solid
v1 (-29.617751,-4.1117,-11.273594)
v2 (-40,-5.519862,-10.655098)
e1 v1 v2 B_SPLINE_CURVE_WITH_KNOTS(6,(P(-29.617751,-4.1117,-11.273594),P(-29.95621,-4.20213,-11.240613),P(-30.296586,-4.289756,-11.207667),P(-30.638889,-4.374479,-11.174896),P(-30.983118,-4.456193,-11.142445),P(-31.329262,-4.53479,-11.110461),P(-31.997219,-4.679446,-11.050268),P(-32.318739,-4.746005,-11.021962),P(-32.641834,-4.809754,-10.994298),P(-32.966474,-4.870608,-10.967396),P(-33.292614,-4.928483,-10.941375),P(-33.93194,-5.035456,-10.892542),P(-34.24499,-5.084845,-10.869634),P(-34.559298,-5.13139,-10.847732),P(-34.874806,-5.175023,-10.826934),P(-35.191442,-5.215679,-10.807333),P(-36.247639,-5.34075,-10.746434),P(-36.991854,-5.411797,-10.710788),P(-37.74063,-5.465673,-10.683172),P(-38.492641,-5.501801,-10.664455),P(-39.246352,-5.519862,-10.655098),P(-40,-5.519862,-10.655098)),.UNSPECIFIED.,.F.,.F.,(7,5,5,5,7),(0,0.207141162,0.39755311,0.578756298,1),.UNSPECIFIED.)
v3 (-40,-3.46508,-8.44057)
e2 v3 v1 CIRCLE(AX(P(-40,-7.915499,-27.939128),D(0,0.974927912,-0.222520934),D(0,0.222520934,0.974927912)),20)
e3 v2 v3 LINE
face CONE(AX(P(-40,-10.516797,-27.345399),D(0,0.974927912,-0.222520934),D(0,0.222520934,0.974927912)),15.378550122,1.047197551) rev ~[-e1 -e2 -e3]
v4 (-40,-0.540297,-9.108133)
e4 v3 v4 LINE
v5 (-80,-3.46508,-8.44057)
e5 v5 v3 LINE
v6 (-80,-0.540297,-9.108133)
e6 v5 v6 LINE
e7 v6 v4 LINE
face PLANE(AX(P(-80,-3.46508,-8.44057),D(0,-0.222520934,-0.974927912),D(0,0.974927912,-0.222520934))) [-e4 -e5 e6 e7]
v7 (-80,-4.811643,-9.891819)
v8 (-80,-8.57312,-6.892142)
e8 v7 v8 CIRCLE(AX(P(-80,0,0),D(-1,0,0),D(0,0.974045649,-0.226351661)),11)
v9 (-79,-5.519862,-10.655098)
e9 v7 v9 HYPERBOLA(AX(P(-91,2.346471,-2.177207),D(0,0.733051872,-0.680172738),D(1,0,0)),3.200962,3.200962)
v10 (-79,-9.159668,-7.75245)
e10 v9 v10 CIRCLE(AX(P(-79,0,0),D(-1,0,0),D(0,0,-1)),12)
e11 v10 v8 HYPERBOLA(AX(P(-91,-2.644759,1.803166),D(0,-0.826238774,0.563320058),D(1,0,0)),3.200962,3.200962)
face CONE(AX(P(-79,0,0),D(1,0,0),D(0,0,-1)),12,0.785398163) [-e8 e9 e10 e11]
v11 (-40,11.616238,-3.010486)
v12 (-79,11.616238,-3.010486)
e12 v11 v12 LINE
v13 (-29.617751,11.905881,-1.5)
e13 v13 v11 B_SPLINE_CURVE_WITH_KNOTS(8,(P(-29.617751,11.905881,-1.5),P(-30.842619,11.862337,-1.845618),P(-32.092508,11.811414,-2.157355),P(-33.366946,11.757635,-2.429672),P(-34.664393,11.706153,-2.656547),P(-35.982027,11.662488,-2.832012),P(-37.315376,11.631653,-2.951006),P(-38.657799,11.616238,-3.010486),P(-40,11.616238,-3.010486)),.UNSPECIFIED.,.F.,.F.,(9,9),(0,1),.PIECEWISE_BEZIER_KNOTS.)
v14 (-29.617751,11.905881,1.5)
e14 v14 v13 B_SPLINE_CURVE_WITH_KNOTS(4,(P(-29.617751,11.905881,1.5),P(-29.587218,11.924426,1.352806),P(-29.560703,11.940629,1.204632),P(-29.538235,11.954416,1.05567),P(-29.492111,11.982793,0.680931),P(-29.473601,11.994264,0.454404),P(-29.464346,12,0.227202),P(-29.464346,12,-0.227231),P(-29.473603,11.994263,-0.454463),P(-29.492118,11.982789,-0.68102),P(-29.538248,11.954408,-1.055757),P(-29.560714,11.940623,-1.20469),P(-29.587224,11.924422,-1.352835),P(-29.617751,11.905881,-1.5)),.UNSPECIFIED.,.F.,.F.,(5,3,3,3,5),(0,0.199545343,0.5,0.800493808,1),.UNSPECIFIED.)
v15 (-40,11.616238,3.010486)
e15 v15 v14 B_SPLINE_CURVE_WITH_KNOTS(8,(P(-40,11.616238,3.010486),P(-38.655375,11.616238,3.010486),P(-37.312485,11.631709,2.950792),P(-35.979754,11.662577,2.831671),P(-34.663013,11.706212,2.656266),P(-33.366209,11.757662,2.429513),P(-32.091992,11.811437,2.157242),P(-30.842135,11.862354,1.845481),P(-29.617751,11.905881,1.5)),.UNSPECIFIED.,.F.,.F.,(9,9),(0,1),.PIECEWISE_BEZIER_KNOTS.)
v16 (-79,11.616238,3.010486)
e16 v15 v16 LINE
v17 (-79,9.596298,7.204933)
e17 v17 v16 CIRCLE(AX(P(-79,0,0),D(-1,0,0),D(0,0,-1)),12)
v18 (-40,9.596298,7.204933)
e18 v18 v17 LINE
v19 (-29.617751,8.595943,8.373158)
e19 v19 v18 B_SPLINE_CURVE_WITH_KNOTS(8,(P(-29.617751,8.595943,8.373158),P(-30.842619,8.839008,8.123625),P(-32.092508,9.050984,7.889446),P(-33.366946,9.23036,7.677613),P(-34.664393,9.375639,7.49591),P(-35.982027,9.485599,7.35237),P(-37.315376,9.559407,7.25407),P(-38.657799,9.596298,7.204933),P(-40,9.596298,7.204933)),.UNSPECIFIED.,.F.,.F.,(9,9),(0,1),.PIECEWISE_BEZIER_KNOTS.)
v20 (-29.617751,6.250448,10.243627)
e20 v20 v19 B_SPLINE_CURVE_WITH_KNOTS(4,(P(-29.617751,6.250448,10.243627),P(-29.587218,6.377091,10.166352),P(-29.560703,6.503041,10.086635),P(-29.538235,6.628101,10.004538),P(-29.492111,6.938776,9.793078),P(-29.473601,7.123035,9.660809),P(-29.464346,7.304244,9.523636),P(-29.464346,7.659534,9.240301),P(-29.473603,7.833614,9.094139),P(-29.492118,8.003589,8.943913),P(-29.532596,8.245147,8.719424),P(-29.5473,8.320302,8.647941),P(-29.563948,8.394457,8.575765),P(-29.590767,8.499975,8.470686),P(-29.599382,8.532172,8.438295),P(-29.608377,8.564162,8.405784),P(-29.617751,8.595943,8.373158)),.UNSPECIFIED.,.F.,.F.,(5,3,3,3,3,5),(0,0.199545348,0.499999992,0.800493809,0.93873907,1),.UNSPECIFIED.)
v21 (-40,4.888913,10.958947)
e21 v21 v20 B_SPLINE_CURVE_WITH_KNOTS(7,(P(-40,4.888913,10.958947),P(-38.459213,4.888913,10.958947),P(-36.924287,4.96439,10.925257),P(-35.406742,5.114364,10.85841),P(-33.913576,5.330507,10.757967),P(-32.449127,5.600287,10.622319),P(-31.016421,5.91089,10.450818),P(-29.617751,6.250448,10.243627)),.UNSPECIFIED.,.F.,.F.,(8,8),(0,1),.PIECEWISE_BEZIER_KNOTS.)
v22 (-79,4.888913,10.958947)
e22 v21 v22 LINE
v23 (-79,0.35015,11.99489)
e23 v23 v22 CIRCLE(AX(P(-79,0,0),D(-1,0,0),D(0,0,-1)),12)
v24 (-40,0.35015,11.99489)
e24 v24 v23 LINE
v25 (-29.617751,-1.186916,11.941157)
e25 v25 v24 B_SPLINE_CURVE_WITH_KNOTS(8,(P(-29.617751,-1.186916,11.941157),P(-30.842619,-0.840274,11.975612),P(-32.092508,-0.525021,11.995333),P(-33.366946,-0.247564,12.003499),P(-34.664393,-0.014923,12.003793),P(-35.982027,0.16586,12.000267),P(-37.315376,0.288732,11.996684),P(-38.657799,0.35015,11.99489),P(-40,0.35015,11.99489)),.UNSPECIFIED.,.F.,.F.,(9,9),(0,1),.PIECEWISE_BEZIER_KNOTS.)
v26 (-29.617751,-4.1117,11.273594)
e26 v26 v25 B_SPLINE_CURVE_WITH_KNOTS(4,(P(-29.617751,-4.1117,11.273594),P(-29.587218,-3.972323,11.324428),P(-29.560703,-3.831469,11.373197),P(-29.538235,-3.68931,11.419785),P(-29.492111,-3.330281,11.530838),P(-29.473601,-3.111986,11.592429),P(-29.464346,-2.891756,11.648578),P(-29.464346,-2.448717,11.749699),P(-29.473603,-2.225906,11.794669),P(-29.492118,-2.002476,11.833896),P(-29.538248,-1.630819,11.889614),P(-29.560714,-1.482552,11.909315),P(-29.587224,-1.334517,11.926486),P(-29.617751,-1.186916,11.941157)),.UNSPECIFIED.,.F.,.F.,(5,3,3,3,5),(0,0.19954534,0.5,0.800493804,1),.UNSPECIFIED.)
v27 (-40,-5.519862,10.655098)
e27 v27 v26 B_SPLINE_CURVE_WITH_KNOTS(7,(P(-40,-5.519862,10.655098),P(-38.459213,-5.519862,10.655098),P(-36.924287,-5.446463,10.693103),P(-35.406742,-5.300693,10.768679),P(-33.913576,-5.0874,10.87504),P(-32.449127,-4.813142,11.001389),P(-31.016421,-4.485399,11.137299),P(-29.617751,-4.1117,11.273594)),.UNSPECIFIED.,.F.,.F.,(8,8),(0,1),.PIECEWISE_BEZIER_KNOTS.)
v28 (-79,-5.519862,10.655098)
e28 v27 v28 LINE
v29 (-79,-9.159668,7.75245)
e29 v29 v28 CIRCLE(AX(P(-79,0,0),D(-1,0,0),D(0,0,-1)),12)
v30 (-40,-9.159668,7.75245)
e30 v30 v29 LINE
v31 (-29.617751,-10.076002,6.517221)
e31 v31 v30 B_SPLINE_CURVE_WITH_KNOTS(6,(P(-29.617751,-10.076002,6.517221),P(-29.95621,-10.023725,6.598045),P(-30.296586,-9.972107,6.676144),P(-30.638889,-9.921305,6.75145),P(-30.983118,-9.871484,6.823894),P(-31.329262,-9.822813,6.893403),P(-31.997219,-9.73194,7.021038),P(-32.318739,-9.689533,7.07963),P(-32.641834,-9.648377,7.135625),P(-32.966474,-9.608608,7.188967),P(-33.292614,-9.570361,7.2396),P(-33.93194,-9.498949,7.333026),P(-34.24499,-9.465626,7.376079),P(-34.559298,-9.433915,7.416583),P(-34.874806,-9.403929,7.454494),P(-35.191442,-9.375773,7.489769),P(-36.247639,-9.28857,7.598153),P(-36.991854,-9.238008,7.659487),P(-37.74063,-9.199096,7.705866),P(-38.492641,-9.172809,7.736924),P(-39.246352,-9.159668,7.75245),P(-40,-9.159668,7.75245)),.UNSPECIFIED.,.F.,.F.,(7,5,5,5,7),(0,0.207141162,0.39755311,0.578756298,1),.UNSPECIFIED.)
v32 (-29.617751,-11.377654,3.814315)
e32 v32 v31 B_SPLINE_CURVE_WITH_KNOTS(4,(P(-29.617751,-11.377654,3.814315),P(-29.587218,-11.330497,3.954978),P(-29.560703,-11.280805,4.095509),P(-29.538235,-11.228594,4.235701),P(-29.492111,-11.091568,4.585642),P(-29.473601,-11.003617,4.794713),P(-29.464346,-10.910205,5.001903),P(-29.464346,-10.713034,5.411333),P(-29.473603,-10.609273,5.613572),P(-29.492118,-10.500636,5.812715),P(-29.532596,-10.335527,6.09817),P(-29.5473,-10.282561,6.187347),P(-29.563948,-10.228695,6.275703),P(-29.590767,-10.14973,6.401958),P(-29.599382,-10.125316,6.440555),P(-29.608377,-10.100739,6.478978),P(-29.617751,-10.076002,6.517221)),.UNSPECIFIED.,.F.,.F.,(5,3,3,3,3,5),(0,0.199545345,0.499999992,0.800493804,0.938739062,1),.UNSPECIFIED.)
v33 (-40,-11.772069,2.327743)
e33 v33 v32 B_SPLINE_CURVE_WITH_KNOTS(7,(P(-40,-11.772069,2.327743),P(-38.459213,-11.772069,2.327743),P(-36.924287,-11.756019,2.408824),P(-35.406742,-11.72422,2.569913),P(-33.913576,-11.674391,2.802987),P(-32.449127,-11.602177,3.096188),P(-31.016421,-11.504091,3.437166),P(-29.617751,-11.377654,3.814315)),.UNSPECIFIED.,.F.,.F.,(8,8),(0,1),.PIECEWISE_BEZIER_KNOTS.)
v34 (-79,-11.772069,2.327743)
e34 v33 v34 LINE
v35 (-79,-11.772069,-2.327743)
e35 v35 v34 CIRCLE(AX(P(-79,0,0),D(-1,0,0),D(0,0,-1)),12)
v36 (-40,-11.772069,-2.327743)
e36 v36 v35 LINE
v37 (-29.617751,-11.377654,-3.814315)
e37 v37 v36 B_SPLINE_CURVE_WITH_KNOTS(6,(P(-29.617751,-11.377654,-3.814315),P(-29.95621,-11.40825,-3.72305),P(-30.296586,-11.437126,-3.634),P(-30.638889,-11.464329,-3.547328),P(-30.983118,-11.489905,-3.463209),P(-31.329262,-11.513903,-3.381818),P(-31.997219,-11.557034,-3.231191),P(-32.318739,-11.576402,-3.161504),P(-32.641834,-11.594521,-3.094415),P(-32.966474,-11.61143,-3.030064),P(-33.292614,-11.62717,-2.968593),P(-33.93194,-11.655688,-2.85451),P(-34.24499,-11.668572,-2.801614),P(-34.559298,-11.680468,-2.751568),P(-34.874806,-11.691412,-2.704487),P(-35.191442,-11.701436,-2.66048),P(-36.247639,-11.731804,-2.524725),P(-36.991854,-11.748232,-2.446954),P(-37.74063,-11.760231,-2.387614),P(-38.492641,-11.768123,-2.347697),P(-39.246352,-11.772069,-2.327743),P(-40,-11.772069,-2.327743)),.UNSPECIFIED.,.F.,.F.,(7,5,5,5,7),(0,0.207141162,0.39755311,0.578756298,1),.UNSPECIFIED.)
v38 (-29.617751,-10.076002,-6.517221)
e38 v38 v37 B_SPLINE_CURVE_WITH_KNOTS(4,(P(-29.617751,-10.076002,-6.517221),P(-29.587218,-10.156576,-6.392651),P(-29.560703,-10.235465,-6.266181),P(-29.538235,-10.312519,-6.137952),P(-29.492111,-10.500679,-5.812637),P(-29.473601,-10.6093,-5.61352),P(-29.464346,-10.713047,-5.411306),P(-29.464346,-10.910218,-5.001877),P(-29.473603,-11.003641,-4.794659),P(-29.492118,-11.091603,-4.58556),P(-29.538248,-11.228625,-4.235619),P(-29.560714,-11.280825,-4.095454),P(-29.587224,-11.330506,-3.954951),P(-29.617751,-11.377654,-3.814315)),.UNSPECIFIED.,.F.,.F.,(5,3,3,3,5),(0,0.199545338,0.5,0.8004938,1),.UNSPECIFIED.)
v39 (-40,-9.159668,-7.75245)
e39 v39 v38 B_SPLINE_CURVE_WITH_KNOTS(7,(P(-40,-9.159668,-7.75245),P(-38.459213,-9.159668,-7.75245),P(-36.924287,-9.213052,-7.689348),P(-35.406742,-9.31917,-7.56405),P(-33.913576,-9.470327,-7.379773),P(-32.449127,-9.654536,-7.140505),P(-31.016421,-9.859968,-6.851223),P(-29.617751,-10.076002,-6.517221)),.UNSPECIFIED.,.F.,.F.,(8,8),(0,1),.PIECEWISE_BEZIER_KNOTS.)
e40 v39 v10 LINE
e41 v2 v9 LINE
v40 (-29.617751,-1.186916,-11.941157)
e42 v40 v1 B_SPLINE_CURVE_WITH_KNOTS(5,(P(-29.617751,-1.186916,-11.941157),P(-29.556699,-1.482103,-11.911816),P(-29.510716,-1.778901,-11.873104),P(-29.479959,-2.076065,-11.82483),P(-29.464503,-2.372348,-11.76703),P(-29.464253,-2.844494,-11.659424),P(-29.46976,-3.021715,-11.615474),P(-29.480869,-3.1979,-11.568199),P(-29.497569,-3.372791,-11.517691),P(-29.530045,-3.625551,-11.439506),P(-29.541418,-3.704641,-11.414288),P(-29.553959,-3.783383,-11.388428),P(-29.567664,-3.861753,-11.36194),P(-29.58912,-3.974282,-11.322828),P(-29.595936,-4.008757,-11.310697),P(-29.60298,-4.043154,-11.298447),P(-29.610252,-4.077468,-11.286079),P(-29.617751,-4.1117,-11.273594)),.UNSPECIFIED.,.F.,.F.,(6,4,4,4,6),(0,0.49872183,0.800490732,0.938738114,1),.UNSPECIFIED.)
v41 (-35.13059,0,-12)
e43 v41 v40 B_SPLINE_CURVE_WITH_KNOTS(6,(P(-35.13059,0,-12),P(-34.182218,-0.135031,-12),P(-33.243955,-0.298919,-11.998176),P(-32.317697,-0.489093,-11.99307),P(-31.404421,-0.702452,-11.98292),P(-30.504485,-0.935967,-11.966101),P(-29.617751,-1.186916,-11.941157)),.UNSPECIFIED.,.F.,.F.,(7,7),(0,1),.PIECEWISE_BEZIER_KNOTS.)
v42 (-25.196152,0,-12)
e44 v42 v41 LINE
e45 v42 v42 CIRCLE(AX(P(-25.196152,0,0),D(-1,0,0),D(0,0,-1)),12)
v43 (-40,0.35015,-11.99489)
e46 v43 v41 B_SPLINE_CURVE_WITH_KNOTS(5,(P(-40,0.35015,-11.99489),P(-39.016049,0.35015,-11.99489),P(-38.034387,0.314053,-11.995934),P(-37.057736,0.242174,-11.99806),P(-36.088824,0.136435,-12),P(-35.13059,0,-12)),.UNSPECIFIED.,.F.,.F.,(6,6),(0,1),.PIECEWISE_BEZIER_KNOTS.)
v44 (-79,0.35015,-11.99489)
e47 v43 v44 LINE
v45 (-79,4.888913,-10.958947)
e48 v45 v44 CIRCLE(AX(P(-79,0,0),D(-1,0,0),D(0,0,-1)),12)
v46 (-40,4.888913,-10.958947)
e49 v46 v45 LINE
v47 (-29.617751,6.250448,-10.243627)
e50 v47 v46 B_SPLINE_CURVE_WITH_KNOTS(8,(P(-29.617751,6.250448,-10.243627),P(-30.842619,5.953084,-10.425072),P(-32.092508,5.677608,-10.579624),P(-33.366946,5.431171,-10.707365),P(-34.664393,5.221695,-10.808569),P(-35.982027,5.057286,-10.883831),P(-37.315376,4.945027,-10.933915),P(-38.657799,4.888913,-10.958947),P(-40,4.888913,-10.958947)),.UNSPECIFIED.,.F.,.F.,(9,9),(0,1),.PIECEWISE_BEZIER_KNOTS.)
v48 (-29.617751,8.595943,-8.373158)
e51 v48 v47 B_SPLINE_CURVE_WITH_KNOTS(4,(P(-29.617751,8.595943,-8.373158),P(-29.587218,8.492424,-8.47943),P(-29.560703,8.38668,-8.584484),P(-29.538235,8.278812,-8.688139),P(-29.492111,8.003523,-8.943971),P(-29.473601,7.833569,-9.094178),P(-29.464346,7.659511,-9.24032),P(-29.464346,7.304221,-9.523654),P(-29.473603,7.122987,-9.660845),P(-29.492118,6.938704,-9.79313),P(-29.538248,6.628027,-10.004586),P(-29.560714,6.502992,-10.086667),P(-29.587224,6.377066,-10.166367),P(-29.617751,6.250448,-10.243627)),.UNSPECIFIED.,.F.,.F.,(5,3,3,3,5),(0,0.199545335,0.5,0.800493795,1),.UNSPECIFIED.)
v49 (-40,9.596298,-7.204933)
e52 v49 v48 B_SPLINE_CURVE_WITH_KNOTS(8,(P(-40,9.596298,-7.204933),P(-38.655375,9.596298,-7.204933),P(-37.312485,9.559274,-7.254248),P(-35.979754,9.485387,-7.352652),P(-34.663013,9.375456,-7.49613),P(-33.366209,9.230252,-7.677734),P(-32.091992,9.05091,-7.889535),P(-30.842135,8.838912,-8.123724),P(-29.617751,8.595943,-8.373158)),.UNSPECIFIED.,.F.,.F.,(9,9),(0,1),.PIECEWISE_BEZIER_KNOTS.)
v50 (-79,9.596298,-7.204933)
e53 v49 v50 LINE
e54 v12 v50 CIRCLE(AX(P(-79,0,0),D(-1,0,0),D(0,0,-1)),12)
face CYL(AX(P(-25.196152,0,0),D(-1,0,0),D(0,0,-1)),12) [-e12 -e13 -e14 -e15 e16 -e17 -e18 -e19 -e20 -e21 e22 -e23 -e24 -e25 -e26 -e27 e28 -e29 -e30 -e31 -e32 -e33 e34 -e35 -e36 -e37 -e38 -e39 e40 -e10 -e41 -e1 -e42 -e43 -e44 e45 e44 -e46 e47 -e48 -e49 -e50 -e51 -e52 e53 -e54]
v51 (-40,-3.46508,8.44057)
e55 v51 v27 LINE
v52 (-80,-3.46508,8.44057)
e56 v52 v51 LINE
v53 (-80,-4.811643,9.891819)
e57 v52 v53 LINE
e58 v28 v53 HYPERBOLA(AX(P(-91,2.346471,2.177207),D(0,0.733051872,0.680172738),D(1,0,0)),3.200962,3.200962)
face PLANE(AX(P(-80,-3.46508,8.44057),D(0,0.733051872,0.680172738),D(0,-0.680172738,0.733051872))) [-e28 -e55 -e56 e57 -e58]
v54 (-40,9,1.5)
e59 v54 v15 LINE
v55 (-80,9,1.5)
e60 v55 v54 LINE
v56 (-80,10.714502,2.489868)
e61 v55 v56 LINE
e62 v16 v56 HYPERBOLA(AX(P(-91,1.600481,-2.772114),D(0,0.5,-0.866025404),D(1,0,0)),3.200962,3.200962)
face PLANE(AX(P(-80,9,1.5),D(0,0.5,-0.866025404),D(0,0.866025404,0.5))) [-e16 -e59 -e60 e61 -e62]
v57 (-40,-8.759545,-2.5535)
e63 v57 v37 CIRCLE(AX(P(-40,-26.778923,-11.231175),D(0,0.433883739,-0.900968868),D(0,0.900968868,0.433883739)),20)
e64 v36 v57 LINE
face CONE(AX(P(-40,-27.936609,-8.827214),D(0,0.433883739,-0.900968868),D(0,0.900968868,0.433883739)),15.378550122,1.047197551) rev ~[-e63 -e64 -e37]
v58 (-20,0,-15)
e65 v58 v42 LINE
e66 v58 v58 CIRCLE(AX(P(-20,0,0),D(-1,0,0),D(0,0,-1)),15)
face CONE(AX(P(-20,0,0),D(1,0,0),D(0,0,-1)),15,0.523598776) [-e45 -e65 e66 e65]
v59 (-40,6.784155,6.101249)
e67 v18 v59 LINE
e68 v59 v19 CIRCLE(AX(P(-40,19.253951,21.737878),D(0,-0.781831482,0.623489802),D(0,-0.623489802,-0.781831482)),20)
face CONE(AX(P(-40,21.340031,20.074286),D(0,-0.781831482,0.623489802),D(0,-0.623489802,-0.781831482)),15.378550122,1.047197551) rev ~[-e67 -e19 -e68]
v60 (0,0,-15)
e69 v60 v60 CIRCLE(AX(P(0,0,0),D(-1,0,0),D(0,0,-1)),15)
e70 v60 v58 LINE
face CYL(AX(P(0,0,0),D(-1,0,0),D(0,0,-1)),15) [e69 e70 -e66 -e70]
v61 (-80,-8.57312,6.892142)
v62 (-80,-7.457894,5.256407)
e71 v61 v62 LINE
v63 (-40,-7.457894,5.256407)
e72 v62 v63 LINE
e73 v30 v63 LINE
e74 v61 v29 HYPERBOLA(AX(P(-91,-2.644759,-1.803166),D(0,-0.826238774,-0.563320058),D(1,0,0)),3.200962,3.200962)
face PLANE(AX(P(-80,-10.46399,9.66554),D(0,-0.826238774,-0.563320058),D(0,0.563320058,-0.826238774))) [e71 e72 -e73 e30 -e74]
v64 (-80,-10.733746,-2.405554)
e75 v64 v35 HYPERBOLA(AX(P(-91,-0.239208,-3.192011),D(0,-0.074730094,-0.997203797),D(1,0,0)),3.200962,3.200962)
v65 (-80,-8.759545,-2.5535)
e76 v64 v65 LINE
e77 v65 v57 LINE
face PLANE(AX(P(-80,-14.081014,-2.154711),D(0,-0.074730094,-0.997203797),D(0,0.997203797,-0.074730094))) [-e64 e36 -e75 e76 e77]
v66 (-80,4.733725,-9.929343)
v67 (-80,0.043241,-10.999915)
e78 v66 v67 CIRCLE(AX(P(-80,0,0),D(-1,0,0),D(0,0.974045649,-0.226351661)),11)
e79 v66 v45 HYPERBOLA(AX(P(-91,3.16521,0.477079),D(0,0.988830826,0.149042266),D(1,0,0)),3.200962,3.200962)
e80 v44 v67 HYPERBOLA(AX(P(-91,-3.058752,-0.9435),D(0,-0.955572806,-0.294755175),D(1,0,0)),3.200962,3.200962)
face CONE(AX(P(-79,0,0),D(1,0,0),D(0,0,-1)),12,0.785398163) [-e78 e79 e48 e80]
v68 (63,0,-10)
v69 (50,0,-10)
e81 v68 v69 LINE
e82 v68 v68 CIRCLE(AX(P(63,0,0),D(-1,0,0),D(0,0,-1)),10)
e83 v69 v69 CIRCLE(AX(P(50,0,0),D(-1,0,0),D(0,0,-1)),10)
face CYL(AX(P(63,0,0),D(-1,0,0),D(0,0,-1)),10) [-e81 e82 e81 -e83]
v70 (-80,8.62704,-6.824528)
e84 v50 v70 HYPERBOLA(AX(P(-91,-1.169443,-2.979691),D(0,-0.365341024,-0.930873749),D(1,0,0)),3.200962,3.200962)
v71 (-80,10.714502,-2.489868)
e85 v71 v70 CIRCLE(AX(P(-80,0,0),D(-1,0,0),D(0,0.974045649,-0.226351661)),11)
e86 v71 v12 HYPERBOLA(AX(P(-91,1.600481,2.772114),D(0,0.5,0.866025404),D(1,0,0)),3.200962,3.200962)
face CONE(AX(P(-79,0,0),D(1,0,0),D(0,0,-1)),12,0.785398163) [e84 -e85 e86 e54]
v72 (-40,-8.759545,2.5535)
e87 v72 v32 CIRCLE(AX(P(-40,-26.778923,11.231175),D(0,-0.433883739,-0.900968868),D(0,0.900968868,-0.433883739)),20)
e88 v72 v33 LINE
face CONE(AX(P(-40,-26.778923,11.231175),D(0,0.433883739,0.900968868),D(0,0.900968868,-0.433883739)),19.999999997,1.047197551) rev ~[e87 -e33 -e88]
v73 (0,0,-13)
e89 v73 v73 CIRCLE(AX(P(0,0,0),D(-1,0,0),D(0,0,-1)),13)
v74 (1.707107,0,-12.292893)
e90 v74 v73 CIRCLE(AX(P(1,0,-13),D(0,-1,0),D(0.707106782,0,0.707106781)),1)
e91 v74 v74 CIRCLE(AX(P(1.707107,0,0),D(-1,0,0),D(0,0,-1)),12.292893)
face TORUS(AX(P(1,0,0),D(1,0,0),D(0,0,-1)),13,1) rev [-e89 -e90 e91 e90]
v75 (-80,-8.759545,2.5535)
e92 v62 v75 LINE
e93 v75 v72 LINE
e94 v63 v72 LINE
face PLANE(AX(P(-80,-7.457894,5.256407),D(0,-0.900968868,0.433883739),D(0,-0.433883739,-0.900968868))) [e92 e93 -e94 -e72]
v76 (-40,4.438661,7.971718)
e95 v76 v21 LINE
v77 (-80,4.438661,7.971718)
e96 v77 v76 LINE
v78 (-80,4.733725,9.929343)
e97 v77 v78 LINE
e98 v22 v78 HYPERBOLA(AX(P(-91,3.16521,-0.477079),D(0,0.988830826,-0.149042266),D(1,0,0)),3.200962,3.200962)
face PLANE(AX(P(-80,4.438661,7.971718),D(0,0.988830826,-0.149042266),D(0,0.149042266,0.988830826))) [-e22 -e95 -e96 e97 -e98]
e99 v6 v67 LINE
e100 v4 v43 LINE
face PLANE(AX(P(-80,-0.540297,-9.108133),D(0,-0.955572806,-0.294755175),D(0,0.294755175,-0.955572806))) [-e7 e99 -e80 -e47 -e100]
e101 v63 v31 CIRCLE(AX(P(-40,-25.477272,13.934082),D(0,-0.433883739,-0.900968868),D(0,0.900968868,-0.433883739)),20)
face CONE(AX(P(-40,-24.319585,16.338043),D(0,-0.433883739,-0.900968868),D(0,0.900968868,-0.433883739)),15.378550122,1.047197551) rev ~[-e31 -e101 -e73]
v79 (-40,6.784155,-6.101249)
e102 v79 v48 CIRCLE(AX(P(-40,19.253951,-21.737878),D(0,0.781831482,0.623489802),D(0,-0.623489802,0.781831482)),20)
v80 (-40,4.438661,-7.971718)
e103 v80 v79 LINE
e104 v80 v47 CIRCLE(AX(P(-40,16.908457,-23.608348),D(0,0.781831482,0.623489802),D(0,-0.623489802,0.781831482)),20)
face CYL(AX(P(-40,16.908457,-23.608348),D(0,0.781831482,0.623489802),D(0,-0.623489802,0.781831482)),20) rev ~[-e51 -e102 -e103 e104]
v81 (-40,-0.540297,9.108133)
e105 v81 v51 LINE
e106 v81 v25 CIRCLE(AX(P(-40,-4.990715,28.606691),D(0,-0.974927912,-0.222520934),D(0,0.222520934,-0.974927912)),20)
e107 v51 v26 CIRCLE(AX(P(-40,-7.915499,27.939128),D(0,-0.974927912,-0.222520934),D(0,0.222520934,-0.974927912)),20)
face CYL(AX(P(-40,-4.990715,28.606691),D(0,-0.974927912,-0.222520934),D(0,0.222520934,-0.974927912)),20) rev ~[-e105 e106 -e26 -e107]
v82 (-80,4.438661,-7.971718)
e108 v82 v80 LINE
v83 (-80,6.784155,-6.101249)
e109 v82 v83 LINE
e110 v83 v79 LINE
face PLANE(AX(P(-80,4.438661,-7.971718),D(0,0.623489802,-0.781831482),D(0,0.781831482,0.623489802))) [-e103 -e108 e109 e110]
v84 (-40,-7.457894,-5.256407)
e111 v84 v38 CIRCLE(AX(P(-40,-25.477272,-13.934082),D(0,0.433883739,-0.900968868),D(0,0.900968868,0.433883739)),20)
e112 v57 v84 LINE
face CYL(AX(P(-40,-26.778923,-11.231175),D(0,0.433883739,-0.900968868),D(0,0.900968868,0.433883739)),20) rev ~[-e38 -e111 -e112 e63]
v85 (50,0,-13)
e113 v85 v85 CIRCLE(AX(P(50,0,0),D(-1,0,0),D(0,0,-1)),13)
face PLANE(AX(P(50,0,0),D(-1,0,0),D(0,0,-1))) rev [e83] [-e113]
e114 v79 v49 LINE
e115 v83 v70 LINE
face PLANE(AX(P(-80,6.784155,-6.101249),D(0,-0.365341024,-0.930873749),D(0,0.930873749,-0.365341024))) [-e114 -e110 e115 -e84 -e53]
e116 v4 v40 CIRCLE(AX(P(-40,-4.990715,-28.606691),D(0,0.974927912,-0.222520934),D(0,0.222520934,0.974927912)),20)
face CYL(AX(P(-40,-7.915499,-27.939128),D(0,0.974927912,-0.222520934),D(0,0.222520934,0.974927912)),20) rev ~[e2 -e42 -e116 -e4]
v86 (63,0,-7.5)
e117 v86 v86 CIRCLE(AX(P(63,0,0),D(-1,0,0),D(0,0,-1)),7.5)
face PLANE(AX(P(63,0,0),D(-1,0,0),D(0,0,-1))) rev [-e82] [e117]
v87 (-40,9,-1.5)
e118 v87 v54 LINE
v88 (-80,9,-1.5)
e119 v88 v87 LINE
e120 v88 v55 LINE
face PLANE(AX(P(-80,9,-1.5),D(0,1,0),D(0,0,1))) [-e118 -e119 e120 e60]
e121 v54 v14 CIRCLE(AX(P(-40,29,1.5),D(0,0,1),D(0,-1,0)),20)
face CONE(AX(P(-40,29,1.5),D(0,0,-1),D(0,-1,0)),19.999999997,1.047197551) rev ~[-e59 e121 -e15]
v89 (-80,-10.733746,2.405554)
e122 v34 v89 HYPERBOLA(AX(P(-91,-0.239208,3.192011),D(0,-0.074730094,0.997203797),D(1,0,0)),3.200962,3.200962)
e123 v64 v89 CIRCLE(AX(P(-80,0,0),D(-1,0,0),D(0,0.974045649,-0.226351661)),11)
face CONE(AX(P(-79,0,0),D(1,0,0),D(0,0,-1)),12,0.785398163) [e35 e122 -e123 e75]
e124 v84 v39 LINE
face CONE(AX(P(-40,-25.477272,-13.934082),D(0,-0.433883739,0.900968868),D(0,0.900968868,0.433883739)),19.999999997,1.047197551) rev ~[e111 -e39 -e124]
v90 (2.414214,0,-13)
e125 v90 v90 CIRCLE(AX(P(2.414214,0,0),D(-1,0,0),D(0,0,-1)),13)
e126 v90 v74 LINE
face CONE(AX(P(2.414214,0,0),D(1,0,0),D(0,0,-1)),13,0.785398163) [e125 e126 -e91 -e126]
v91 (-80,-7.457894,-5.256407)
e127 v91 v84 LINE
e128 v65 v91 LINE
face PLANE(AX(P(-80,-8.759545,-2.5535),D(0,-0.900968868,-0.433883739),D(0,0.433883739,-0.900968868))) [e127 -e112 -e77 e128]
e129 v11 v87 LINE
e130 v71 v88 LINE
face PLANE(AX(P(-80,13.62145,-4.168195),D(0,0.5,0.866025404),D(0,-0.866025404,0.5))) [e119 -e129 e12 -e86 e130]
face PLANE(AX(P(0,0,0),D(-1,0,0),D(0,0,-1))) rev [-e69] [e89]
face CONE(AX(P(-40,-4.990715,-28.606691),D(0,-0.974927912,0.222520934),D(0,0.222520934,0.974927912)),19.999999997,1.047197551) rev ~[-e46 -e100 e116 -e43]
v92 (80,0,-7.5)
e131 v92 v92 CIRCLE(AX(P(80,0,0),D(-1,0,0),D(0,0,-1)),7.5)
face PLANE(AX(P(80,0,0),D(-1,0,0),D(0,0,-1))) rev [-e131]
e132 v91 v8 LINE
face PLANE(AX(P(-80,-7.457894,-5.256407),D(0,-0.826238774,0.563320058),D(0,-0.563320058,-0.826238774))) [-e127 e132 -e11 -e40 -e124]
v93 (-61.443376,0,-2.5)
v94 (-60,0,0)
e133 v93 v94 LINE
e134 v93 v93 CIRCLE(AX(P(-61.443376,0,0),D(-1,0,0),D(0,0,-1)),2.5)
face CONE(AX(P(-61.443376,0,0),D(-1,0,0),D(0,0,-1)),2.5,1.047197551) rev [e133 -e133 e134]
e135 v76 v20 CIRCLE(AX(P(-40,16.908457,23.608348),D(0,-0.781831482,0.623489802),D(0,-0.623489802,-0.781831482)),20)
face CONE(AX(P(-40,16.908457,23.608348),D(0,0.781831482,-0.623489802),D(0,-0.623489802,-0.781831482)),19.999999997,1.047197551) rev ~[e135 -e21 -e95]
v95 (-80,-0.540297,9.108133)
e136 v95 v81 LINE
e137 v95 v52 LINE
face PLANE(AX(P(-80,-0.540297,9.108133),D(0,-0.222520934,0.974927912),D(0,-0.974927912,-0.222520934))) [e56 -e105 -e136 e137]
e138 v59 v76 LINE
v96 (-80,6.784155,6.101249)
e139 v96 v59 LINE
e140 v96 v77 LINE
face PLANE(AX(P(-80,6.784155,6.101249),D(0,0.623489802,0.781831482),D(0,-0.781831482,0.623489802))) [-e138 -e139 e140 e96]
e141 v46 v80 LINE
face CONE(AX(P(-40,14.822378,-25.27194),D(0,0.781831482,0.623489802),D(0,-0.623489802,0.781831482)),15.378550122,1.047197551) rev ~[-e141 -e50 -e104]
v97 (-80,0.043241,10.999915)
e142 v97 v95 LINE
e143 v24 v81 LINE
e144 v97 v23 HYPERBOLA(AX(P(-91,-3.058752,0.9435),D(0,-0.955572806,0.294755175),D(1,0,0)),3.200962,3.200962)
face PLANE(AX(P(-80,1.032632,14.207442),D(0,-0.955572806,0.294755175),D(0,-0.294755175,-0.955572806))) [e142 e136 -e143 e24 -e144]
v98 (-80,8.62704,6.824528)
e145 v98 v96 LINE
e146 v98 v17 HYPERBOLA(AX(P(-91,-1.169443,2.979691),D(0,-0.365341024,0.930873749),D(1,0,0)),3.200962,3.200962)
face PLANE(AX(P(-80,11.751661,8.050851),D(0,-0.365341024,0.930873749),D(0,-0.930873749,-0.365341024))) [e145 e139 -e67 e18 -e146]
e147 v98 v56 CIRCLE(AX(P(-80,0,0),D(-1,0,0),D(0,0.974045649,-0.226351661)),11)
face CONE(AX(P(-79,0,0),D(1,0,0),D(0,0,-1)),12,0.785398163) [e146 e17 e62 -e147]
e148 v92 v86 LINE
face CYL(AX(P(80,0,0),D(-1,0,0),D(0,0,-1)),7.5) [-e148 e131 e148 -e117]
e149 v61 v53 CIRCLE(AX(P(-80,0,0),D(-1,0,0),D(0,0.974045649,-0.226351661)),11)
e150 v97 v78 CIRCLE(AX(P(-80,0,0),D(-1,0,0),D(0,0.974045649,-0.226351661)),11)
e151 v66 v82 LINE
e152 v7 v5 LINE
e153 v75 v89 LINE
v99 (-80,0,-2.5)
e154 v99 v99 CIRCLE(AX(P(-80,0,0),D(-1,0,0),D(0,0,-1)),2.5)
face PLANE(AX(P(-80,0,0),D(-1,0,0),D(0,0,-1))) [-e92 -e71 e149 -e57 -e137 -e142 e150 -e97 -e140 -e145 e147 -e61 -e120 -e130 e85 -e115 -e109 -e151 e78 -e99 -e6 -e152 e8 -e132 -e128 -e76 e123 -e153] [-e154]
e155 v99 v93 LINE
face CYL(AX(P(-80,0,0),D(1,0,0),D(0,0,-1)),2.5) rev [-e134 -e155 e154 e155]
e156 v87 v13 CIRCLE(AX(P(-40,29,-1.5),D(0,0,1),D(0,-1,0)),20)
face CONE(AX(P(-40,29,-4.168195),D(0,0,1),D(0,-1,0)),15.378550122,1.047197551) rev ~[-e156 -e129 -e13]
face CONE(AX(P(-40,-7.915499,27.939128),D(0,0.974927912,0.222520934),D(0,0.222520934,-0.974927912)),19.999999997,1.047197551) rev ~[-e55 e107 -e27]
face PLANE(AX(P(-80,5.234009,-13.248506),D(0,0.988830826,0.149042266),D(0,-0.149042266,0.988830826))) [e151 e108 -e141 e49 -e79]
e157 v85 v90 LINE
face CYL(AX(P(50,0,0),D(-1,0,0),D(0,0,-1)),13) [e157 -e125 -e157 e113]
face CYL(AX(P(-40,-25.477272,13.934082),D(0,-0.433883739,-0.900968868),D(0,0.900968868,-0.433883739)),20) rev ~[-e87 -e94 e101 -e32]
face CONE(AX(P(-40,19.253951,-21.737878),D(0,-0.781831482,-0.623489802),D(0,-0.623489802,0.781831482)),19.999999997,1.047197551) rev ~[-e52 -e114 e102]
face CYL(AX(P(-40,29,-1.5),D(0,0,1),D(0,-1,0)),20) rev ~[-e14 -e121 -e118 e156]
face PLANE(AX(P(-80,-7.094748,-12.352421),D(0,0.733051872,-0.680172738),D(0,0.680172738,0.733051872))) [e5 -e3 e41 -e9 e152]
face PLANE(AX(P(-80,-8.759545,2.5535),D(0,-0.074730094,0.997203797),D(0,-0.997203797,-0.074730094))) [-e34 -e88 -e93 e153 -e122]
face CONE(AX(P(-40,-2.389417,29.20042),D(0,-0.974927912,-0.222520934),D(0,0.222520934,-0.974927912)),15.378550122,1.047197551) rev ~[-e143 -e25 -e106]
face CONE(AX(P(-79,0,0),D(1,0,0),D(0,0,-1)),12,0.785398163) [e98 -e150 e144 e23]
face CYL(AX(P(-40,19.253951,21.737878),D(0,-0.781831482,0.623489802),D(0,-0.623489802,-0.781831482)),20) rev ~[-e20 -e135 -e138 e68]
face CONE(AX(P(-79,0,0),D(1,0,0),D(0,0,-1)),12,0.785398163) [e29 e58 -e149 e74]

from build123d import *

# Parameters (mm, degrees)
KRUHOV_POLE1_COUNT = 7


with BuildPart() as part:
    # Skica1 → Rotovat1 (revolve)
    with BuildSketch(Plane.XY, mode=Mode.PRIVATE) as rotovat1_sk:
        with BuildLine():
            Line((-80, 2.5), (-61.443375673, 2.5))
            Line((-61.443375673, 2.5), (-60, 0))
            Line((-60, 0), (80, 0))
            Line((80, 0), (80, 7.5))
            Line((80, 7.5), (63, 7.5))
            Line((63, 7.5), (63, 10))
            Line((63, 10), (50, 10))
            Line((50, 10), (50, 13))
            Line((50, 13), (2.414213562, 13))
            Line((2.414213562, 13), (1.707106781, 12.292893219))
            ThreePointArc((1.707106781, 12.292893219), (0.617316568, 12.076120467), (0, 13))
            Line((0, 13), (0, 15))
            Line((0, 15), (-20, 15))
            Line((-20, 15), (-25.196152423, 12))
            Line((-25.196152423, 12), (-79, 12))
            Line((-79, 12), (-80, 11))
            Line((-80, 11), (-80, 2.5))
        make_face()
    revolve(rotovat1_sk.sketch.rotate(Axis((89.49015633, 0, 0), (-1, 0, 0)), 90), axis=Axis((89.49015633, 0, 0), (-1, 0, 0)))  # turned: the seam where the file's is

    # Odebrat tažením po křivce1: sweep along a path in Skica2
    with BuildLine(Plane.XY) as odebrat_ta_en_m_po_k_ivce1_path:
        Line((-80, 9), (-40, 9))
        ThreePointArc((-40, 9), (-30.024182748, 11.665552499), (-22.707471957, 18.951692985))
    # Skica3 → Odebrat tažením po křivce1 (sweep, cut)
    with BuildSketch(Plane.ZY.offset(80)):
        Polygon((-4.16819533, 13.621449875), (-1.5, 9), (1.5, 9), (4.16819533, 13.621449875), align=None)
    odebrat_ta_en_m_po_k_ivce1 = sweep(path=odebrat_ta_en_m_po_k_ivce1_path.line, mode=Mode.SUBTRACT)

    # Kruhové pole1: Odebrat tažením po křivce1 ×7 about axis
    kruhov_pole1_axis = Axis((0, 0, 0), (1, 0, 0))
    for i in range(1, KRUHOV_POLE1_COUNT):
        add(odebrat_ta_en_m_po_k_ivce1.rotate(kruhov_pole1_axis, i * 360 / KRUHOV_POLE1_COUNT), mode=Mode.SUBTRACT)


solid = part.part
